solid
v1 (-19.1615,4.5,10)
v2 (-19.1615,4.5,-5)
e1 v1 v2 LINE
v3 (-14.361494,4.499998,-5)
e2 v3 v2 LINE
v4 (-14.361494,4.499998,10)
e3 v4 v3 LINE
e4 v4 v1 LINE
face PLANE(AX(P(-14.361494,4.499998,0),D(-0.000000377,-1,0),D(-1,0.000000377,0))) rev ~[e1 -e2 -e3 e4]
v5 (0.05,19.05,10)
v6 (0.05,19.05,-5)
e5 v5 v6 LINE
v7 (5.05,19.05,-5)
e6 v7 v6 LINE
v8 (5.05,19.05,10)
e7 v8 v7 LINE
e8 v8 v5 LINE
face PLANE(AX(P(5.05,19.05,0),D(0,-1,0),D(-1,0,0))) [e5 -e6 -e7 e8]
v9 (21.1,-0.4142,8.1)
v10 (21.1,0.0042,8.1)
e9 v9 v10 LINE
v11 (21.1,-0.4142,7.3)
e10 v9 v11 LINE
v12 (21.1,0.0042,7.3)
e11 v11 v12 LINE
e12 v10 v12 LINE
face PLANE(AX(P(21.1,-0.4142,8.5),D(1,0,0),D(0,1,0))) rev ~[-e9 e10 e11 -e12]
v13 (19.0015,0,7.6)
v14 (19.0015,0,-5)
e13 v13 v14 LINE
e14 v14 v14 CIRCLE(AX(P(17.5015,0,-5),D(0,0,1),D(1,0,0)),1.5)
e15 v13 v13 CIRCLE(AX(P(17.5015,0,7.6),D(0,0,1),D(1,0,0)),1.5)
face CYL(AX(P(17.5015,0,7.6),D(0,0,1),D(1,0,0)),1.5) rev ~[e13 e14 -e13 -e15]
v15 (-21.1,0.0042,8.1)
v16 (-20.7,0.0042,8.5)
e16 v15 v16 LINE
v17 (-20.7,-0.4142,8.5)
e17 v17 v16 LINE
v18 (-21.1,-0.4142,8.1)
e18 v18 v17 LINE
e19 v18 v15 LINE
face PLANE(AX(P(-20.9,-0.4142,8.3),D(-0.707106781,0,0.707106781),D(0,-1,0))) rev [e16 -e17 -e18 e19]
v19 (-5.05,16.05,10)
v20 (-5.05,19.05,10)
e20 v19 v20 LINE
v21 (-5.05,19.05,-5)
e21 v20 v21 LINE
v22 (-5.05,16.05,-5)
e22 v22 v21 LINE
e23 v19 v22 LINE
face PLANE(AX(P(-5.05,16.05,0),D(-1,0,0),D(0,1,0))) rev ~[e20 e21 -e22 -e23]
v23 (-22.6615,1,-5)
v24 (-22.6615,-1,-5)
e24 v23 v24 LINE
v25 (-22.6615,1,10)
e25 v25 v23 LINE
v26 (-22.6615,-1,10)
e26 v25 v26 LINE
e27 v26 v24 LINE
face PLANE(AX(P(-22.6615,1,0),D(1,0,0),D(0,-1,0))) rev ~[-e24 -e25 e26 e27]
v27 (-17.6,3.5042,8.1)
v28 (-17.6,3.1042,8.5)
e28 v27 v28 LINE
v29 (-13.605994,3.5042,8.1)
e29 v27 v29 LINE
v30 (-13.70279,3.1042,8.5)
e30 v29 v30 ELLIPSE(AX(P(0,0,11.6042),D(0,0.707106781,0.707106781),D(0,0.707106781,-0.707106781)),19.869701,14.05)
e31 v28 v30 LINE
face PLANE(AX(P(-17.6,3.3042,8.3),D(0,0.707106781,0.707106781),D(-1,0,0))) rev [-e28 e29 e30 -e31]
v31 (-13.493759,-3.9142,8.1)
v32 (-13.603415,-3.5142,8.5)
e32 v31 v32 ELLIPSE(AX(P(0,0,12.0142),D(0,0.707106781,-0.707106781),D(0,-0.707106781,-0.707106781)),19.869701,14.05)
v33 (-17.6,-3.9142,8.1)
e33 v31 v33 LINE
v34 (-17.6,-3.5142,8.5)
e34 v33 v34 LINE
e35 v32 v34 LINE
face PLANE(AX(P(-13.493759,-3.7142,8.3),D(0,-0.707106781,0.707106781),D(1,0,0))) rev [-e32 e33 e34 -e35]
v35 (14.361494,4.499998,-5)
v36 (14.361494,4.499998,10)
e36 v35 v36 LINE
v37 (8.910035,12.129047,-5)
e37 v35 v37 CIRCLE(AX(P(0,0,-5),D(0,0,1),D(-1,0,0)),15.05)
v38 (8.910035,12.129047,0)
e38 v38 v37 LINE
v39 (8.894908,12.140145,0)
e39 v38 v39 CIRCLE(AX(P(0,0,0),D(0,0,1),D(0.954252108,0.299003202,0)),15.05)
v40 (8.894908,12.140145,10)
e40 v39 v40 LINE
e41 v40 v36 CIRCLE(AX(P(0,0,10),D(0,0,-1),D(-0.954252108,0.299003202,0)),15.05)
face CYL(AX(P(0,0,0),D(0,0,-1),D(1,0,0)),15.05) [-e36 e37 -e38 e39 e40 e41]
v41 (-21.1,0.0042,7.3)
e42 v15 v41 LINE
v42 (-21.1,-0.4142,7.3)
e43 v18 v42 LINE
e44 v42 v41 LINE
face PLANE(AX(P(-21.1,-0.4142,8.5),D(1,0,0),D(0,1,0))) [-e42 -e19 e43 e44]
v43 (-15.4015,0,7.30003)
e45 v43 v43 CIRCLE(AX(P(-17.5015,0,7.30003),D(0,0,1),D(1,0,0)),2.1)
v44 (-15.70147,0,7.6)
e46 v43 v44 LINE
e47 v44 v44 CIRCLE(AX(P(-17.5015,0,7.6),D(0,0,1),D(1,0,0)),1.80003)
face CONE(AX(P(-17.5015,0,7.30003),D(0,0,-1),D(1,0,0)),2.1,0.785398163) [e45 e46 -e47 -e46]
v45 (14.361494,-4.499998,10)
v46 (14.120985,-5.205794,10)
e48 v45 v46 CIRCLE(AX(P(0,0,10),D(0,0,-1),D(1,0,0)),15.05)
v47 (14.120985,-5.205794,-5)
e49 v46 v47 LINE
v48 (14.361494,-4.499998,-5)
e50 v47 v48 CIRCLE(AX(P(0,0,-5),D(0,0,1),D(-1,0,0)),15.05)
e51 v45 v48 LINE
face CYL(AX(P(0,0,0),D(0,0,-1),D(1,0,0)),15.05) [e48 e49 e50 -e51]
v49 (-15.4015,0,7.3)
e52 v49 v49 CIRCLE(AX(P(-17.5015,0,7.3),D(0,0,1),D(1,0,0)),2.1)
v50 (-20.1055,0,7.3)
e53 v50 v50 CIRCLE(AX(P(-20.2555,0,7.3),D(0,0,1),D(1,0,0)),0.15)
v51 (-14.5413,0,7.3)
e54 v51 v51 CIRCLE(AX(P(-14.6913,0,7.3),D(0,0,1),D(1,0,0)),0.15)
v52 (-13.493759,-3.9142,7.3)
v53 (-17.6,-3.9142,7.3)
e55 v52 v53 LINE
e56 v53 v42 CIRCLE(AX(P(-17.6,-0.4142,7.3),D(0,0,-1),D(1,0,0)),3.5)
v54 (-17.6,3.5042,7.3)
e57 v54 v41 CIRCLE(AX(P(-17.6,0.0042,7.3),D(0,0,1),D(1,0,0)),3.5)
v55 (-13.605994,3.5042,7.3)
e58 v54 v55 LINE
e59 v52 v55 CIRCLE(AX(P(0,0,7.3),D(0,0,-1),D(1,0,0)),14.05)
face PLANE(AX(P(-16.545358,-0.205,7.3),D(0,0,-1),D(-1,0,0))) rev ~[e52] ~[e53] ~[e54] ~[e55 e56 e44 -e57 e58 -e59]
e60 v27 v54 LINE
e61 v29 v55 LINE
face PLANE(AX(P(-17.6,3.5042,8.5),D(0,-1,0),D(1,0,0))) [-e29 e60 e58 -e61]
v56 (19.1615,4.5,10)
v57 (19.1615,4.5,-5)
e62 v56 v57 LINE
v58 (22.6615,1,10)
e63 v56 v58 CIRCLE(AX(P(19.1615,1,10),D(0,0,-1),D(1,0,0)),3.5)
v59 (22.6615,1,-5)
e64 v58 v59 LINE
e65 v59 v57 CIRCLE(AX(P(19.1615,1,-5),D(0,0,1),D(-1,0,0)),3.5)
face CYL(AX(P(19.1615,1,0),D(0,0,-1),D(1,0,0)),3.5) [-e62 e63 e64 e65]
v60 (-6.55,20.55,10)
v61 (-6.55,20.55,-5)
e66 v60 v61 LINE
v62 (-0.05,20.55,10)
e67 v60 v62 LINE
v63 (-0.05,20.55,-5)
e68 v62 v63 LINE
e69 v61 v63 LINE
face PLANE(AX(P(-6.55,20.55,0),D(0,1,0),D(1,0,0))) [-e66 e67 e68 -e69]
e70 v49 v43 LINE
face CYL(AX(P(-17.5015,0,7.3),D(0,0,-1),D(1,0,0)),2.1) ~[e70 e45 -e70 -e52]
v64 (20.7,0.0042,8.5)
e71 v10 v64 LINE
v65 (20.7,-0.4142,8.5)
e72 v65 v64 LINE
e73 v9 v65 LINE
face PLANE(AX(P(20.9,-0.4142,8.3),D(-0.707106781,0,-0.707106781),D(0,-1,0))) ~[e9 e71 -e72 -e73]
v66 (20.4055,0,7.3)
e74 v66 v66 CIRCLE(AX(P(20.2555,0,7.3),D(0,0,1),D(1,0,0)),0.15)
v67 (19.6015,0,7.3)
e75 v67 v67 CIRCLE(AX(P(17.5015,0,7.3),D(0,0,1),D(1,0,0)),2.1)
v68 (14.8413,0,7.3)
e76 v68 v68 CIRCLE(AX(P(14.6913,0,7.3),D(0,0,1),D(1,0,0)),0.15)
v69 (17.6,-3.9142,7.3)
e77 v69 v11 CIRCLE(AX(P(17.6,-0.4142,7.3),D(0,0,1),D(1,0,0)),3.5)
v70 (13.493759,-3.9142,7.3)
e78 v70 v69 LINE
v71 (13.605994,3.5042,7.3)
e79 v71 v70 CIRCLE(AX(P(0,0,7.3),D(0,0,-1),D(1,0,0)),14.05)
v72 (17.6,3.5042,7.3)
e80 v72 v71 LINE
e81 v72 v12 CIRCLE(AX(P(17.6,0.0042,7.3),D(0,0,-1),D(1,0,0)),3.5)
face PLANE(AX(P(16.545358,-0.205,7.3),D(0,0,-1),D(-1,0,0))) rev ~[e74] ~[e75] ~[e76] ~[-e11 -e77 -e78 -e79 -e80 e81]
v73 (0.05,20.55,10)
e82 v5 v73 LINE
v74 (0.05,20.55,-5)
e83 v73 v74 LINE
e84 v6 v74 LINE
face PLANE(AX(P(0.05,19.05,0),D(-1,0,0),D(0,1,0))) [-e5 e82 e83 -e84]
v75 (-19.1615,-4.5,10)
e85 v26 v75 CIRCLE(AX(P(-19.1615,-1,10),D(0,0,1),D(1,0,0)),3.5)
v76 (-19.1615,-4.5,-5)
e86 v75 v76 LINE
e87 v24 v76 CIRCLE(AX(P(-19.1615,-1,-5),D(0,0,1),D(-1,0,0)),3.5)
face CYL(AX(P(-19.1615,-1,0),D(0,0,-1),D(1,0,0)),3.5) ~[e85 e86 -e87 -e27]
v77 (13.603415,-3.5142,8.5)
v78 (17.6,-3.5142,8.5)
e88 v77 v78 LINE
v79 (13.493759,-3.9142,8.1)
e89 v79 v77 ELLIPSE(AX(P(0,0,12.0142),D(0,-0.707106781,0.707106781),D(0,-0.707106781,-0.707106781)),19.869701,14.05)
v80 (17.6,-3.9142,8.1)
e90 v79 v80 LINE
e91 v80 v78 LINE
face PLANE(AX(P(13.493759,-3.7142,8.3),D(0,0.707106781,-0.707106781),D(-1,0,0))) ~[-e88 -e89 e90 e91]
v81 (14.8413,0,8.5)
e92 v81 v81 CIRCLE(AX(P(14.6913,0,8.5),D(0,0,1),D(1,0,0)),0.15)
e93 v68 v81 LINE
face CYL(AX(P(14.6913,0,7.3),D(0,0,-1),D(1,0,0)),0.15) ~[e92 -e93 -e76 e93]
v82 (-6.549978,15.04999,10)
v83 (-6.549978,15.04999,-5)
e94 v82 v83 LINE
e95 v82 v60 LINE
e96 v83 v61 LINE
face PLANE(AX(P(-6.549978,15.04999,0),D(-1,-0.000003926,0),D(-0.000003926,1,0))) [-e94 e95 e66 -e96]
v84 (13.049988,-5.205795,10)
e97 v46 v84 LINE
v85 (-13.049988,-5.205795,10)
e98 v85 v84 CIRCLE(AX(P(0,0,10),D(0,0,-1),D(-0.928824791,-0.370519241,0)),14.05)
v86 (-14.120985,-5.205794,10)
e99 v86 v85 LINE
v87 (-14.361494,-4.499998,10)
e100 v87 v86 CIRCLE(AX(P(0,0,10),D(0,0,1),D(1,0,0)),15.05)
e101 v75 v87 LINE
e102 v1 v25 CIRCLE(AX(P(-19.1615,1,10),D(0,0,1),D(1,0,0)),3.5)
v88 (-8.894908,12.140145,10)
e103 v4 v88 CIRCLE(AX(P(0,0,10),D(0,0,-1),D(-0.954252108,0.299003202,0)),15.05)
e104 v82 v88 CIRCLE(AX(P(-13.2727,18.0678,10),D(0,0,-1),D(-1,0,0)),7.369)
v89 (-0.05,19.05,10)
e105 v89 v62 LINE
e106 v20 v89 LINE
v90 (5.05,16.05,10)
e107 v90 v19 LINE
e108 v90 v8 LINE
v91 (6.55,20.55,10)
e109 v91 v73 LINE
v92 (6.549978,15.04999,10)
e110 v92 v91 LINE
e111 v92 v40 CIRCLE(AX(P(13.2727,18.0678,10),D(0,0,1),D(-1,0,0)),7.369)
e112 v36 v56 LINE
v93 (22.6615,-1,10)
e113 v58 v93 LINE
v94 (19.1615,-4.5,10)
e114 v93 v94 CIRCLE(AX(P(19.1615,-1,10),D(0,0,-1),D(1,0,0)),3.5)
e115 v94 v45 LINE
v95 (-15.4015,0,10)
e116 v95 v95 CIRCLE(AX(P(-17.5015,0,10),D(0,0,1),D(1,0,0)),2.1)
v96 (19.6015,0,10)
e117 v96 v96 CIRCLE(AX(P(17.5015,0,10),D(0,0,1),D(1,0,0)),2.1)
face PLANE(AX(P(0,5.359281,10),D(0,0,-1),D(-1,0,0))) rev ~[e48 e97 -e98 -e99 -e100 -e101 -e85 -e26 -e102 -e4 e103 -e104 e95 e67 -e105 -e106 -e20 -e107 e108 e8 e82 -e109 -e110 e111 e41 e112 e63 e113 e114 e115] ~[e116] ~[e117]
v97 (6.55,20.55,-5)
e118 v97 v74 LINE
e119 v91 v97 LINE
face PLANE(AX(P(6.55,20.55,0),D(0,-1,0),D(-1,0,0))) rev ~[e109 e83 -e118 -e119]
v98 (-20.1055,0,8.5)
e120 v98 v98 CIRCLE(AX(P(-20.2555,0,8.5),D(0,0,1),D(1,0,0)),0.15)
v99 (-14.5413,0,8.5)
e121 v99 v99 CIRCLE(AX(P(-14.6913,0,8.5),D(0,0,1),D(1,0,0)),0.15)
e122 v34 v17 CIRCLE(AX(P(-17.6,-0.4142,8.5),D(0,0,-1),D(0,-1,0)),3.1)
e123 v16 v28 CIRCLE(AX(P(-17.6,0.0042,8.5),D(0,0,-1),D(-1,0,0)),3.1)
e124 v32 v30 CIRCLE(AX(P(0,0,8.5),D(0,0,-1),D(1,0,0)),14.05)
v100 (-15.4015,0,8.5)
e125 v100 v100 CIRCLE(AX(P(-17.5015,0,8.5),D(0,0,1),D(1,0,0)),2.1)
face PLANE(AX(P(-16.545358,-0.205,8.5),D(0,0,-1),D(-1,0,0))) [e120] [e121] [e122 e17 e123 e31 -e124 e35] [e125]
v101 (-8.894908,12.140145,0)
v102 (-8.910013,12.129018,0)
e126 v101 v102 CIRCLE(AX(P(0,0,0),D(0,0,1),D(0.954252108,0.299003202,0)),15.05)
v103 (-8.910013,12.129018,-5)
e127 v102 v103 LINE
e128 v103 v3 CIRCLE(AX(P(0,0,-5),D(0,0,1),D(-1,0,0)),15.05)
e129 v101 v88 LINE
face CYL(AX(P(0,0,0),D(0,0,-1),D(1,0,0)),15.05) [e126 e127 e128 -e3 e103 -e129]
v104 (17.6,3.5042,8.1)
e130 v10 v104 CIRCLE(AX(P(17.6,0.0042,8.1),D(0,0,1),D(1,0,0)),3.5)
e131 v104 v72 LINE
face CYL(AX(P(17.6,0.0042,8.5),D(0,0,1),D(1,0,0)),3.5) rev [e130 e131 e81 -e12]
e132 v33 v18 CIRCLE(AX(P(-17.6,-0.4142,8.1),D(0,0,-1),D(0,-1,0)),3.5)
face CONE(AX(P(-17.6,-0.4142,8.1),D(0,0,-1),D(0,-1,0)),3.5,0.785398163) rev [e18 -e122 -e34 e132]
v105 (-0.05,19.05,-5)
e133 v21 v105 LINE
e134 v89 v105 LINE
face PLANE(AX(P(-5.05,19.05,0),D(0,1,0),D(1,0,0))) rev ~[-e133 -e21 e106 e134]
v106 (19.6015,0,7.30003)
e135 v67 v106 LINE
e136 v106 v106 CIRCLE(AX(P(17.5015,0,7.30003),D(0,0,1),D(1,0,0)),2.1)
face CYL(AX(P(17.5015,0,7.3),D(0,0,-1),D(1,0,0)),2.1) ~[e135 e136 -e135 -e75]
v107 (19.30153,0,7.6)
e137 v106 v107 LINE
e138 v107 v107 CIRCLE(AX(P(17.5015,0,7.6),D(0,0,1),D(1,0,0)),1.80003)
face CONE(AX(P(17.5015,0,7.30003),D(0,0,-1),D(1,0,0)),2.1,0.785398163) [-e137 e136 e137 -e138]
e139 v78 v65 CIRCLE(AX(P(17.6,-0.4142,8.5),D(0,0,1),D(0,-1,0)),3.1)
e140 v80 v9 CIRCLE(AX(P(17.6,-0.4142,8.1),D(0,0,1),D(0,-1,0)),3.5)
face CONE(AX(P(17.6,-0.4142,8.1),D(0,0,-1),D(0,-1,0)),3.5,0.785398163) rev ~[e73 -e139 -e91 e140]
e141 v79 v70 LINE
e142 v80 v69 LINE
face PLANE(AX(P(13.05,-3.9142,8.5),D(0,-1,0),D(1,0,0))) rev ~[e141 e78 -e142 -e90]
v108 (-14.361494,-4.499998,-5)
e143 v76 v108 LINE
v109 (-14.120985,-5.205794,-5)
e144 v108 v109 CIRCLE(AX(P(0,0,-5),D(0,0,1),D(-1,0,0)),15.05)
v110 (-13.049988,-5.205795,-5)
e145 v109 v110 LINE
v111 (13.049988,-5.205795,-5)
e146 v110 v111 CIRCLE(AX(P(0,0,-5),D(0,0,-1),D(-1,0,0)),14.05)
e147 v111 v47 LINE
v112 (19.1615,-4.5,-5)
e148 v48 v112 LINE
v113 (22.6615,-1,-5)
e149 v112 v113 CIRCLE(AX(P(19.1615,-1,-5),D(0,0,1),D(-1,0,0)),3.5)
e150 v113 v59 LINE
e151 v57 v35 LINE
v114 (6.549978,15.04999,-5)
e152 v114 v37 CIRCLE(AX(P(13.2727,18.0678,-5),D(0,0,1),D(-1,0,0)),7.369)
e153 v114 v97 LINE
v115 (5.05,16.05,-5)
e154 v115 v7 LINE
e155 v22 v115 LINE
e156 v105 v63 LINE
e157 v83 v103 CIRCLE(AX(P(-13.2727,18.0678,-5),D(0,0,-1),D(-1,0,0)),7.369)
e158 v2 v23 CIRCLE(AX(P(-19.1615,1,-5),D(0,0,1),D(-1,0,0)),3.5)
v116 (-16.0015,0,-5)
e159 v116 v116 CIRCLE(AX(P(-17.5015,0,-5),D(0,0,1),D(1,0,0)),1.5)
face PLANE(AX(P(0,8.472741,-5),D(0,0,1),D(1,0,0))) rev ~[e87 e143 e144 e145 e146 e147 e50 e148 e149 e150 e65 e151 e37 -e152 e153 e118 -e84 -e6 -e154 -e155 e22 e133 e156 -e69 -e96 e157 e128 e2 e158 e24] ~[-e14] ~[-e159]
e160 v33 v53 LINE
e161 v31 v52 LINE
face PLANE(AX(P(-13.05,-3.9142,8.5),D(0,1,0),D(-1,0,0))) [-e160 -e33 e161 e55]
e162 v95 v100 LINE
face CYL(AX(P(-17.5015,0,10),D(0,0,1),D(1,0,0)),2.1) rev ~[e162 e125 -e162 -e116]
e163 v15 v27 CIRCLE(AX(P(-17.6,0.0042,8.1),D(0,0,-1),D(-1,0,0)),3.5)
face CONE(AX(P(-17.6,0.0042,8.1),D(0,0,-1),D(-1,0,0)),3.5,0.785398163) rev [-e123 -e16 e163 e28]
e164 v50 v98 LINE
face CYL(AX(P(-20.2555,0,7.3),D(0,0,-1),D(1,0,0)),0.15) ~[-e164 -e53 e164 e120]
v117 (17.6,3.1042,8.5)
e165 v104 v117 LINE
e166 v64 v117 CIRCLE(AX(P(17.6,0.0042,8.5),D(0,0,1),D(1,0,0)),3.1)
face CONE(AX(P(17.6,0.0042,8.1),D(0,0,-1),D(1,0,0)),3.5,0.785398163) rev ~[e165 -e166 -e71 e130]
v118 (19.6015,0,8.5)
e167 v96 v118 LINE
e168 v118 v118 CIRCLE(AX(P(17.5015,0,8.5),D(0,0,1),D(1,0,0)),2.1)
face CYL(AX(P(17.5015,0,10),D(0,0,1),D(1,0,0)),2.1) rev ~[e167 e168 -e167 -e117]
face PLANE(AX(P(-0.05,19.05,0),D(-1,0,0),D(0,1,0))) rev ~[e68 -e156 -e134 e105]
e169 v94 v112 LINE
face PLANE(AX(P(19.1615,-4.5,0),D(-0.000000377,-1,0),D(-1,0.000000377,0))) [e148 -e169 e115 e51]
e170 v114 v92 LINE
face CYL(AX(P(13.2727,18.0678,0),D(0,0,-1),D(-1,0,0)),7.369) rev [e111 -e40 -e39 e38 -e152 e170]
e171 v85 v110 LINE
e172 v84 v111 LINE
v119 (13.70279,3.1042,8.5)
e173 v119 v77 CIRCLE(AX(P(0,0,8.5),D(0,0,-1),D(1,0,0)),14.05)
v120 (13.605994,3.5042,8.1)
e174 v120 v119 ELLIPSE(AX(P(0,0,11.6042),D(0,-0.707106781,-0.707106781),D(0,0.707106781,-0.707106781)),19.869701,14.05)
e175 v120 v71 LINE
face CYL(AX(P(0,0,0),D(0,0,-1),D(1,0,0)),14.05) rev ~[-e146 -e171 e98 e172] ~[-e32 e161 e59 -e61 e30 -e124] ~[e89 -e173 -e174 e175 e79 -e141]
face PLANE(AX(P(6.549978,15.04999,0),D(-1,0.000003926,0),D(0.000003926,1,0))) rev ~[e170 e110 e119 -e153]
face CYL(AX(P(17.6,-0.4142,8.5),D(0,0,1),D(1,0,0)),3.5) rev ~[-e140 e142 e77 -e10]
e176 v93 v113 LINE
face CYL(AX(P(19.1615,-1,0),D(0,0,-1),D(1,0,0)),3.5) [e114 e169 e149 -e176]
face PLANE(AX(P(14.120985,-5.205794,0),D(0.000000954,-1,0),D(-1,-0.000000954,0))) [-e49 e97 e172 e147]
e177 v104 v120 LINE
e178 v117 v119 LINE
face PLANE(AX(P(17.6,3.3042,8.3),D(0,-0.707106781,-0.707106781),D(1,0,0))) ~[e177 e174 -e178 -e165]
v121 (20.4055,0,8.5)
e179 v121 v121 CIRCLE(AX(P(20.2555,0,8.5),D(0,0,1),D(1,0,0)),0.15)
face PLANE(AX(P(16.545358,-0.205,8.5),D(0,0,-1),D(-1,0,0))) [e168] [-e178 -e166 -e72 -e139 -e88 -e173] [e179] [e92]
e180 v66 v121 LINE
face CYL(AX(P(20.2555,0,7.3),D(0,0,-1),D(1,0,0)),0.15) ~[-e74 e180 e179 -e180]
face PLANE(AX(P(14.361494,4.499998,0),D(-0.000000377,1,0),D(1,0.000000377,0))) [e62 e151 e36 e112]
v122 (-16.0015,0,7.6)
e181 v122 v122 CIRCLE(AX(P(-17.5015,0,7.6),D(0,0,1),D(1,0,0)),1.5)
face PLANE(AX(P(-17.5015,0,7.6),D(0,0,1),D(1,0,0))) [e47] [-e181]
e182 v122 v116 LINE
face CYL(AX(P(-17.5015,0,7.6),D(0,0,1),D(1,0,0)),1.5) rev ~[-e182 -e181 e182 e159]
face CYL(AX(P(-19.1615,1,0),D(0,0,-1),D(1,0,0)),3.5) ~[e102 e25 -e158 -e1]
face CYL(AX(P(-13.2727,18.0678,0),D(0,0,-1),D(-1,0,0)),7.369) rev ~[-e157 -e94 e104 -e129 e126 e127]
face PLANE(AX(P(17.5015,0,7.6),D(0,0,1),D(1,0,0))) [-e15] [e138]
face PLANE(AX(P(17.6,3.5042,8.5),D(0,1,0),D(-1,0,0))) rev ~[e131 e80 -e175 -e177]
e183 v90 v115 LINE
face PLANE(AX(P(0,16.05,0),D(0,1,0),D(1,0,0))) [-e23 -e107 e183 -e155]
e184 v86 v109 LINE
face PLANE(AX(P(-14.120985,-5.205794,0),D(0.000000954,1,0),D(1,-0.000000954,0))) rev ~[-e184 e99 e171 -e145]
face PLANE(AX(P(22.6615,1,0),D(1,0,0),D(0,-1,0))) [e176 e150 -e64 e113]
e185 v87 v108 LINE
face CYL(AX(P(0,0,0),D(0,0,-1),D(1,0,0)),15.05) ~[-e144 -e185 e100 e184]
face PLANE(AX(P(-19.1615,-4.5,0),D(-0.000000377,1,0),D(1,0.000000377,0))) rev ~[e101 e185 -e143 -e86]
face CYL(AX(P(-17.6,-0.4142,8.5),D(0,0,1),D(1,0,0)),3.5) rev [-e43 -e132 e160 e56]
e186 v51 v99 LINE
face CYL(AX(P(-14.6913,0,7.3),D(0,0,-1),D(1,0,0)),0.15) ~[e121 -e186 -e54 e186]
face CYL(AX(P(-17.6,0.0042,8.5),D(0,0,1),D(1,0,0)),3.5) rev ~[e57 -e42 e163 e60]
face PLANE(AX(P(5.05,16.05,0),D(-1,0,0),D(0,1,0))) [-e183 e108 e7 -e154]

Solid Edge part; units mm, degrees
sketch "Sketch1" plane through (0, 0, 0) normal (0, 0, 1) x (1, 0, 0)
  line L0 (14.3615, 4.5) -> (19.1615, 4.5)
  arc A0 (19.1615, 4.5) -> (22.6615, 1) centre (19.1615, 1) cw
  line L1 (22.6615, 1) -> (22.6615, -1)
  arc A1 (22.6615, -1) -> (19.1615, -4.5) centre (19.1615, -1) cw
  line L2 (19.1615, -4.5) -> (14.3615, -4.5)
  arc A2 (14.3615, -4.5) -> (14.121, -5.2058) centre (0, 0) cw
  line L3 (14.121, -5.2058) -> (13.05, -5.2058)
  arc A3 (0, 14.05) -> (-13.05, -5.2058) centre (0, 0) ccw
  line L4 (-14.121, -5.2058) -> (-13.05, -5.2058)
  arc A4 (-14.3615, -4.5) -> (-14.121, -5.2058) centre (0, 0) ccw
  line L5 (-19.1615, -4.5) -> (-14.3615, -4.5)
  arc A5 (-22.6615, -1) -> (-19.1615, -4.5) centre (-19.1615, -1) ccw
  line L6 (-22.6615, 1) -> (-22.6615, -1)
  arc A6 (-19.1615, 4.5) -> (-22.6615, 1) centre (-19.1615, 1) ccw
  line L7 (-14.3615, 4.5) -> (-19.1615, 4.5)
  arc A7 (0, 15.05) -> (-14.3615, 4.5) centre (0, 0) ccw
  arc A8 (0, 15.05) -> (14.3615, 4.5) centre (0, 0) cw
  arc A9 (0, 14.05) -> (13.05, -5.2058) centre (0, 0) cw
extrude "Protrusion1" add sketch "Sketch1" along normal blind 10
sketch "Sketch2" plane through (0, 4.9221, 10) normal (0, 0, 1) x (1, 0, 0)
  circle A0 centre (17.5015, -4.9221) radius 2.1
  circle A1 centre (-17.5015, -4.9221) radius 2.1
extrude "Wycięcie_3" cut sketch "Sketch2" against normal blind 2.4
fillet "Zaokrąglenie_2" [suppressed]
sketch "Sketch3" plane through (0, 4.9221, 0) normal (0, 0, -1) x (-1, 0, 0)
  arc A0 (6.55, 10.1279) -> (8.91, 7.2069) centre (13.2727, 13.1457) ccw
  arc A1 (0, 10.1279) -> (8.91, 7.2069) centre (0, -4.9221) cw
  arc A2 (0, 10.1279) -> (-8.91, 7.2069) centre (0, -4.9221) ccw
  arc A3 (-6.55, 10.1279) -> (-8.91, 7.2069) centre (-13.2727, 13.1457) cw
  line L0 (-6.55, 10.1279) -> (-6.55, 15.6279)
  line L1 (-6.55, 15.6279) -> (-0.05, 15.6279)
  line L2 (-0.05, 14.1279) -> (-0.05, 15.6279)
  line L3 (-5.05, 14.1279) -> (-0.05, 14.1279)
  line L4 (-5.05, 11.1279) -> (-5.05, 14.1279)
  line L5 (0, 11.1279) -> (-5.05, 11.1279)
  line L6 (0, 11.1279) -> (5.05, 11.1279)
  line L7 (5.05, 11.1279) -> (5.05, 14.1279)
  line L8 (5.05, 14.1279) -> (0.05, 14.1279)
  line L9 (0.05, 14.1279) -> (0.05, 15.6279)
  line L10 (6.55, 15.6279) -> (0.05, 15.6279)
  line L11 (6.55, 10.1279) -> (6.55, 15.6279)
extrude "Protrusion2" add sketch "Sketch3" against normal up to vertex (10 mm away)
sketch "Sketch4" plane through (0, 4.9221, 0) normal (0, 0, -1) x (-1, 0, 0)
  arc A0 (-14.3615, -0.4221) -> (-8.91, 7.2069) centre (0, -4.9221) cw
  arc A1 (-6.55, 10.1279) -> (-8.91, 7.2069) centre (-13.2727, 13.1457) cw
  line L0 (-6.55, 10.1279) -> (-6.55, 15.6279)
  line L1 (-6.55, 15.6279) -> (-0.05, 15.6279)
  line L2 (-0.05, 14.1279) -> (-0.05, 15.6279)
  line L3 (-5.05, 14.1279) -> (-0.05, 14.1279)
  line L4 (-5.05, 11.1279) -> (-5.05, 14.1279)
  line L5 (0, 11.1279) -> (-5.05, 11.1279)
  line L6 (0, 11.1279) -> (5.05, 11.1279)
  line L7 (5.05, 11.1279) -> (5.05, 14.1279)
  line L8 (5.05, 14.1279) -> (0.05, 14.1279)
  line L9 (0.05, 14.1279) -> (0.05, 15.6279)
  line L10 (6.55, 15.6279) -> (0.05, 15.6279)
  line L11 (6.55, 10.1279) -> (6.55, 15.6279)
  arc A2 (6.55, 10.1279) -> (8.91, 7.2069) centre (13.2727, 13.1457) ccw
  arc A3 (8.91, 7.2069) -> (14.3615, -0.4221) centre (0, -4.9221) cw
  line L12 (14.3615, -0.4221) -> (19.1615, -0.4221)
  arc A4 (19.1615, -0.4221) -> (22.6615, -3.9221) centre (19.1615, -3.9221) cw
  line L13 (22.6615, -3.9221) -> (22.6615, -5.9221)
  arc A5 (22.6615, -5.9221) -> (19.1615, -9.4221) centre (19.1615, -5.9221) cw
  line L14 (19.1615, -9.4221) -> (14.3615, -9.4221)
  arc A6 (14.3615, -9.4221) -> (14.121, -10.1279) centre (0, -4.9221) cw
  line L15 (14.121, -10.1279) -> (13.05, -10.1279)
  arc A7 (13.05, -10.1279) -> (-13.05, -10.1279) centre (0, -4.9221) ccw
  line L16 (-13.05, -10.1279) -> (-14.121, -10.1279)
  arc A8 (-14.121, -10.1279) -> (-14.3615, -9.4221) centre (0, -4.9221) cw
  line L17 (-14.3615, -9.4221) -> (-19.1615, -9.4221)
  arc A9 (-19.1615, -9.4221) -> (-22.6615, -5.9221) centre (-19.1615, -5.9221) cw
  line L18 (-22.6615, -5.9221) -> (-22.6615, -3.9221)
  arc A10 (-22.6615, -3.9221) -> (-19.1615, -0.4221) centre (-19.1615, -3.9221) cw
  line L19 (-19.1615, -0.4221) -> (-14.3615, -0.4221)
extrude "Wycięcie_8" add sketch "Sketch4" along normal blind 5
sketch "Sketch5" plane through (0, 7.6721, 8.5) normal (0, 0, 1) x (1, 0, 0)
  line L0 (-17.6, -4.1679) -> (-13.05, -4.1679)
  line L1 (-13.05, -4.1679) -> (-13.05, -11.5863)
  line L2 (-13.05, -11.5863) -> (-17.6, -11.5863)
  arc A0 (-17.6, -11.5863) -> (-21.1, -8.0863) centre (-17.6, -8.0863) cw
  line L3 (-21.1, -8.0863) -> (-21.1, -7.6679)
  arc A1 (-17.6, -4.1679) -> (-21.1, -7.6679) centre (-17.6, -7.6679) ccw
  arc A2 (17.6, -4.1679) -> (21.1, -7.6679) centre (17.6, -7.6679) cw
  line L4 (21.1, -8.0863) -> (21.1, -7.6679)
  arc A3 (17.6, -11.5863) -> (21.1, -8.0863) centre (17.6, -8.0863) ccw
  line L5 (13.05, -11.5863) -> (17.6, -11.5863)
  line L6 (13.05, -4.1679) -> (13.05, -11.5863)
  line L7 (17.6, -4.1679) -> (13.05, -4.1679)
extrude "Cutout1" cut sketch "Sketch5" against normal blind 1.2
chamfer "Faza_3" distance 0.4 angle 45 10 edges at (-15.603, 3.5042, 8.5) (-20.0749, 2.4791, 8.5) (-21.1, -0.205, 8.5) (-20.0749, -2.889, 8.5) (-15.5469, -3.9141, 8.5) (15.603, 3.5042, 8.5) (20.0749, 2.4791, 8.5) (21.1, -0.205, 8.5) (20.0749, -2.889, 8.5) (15.5469, -3.9141, 8.5)
sketch "Sketch6" plane through (-17.2969, -0.205, 7.3) normal (0, 0, 1) x (1, 0, 0)
  circle A0 centre (-0.2046, 0.205) radius 2.1
  circle A1 centre (34.7984, 0.205) radius 2.1
extrude "Wyciągnięcie_7" add sketch "Sketch6" along normal blind 0.3
chamfer "Faza_4" distance 0.3 angle 45 2 edges at (-19.6015, 0, 7.6) (15.4015, 0, 7.6)
sketch "Sketch7" plane through (-17.2969, -0.205, 7.3) normal (0, 0, 1) x (1, 0, 0)
  circle A0 centre (2.6056, 0.205) radius 0.15
  circle A1 centre (-2.9586, 0.205) radius 0.15
  circle A2 centre (31.9882, 0.205) radius 0.15
  circle A3 centre (37.5524, 0.205) radius 0.15
extrude "Protrusion3" add sketch "Sketch7" along normal up to vertex (1.2 mm away)
sketch "Sketch8" plane through (-17.5015, 0, 7.6) normal (0, 0, 1) x (1, 0, 0)
  circle A0 centre (0, 0) radius 1.5
  circle A1 centre (35.003, 0) radius 1.5
extrude "Cutout2" cut sketch "Sketch8" against normal through all
